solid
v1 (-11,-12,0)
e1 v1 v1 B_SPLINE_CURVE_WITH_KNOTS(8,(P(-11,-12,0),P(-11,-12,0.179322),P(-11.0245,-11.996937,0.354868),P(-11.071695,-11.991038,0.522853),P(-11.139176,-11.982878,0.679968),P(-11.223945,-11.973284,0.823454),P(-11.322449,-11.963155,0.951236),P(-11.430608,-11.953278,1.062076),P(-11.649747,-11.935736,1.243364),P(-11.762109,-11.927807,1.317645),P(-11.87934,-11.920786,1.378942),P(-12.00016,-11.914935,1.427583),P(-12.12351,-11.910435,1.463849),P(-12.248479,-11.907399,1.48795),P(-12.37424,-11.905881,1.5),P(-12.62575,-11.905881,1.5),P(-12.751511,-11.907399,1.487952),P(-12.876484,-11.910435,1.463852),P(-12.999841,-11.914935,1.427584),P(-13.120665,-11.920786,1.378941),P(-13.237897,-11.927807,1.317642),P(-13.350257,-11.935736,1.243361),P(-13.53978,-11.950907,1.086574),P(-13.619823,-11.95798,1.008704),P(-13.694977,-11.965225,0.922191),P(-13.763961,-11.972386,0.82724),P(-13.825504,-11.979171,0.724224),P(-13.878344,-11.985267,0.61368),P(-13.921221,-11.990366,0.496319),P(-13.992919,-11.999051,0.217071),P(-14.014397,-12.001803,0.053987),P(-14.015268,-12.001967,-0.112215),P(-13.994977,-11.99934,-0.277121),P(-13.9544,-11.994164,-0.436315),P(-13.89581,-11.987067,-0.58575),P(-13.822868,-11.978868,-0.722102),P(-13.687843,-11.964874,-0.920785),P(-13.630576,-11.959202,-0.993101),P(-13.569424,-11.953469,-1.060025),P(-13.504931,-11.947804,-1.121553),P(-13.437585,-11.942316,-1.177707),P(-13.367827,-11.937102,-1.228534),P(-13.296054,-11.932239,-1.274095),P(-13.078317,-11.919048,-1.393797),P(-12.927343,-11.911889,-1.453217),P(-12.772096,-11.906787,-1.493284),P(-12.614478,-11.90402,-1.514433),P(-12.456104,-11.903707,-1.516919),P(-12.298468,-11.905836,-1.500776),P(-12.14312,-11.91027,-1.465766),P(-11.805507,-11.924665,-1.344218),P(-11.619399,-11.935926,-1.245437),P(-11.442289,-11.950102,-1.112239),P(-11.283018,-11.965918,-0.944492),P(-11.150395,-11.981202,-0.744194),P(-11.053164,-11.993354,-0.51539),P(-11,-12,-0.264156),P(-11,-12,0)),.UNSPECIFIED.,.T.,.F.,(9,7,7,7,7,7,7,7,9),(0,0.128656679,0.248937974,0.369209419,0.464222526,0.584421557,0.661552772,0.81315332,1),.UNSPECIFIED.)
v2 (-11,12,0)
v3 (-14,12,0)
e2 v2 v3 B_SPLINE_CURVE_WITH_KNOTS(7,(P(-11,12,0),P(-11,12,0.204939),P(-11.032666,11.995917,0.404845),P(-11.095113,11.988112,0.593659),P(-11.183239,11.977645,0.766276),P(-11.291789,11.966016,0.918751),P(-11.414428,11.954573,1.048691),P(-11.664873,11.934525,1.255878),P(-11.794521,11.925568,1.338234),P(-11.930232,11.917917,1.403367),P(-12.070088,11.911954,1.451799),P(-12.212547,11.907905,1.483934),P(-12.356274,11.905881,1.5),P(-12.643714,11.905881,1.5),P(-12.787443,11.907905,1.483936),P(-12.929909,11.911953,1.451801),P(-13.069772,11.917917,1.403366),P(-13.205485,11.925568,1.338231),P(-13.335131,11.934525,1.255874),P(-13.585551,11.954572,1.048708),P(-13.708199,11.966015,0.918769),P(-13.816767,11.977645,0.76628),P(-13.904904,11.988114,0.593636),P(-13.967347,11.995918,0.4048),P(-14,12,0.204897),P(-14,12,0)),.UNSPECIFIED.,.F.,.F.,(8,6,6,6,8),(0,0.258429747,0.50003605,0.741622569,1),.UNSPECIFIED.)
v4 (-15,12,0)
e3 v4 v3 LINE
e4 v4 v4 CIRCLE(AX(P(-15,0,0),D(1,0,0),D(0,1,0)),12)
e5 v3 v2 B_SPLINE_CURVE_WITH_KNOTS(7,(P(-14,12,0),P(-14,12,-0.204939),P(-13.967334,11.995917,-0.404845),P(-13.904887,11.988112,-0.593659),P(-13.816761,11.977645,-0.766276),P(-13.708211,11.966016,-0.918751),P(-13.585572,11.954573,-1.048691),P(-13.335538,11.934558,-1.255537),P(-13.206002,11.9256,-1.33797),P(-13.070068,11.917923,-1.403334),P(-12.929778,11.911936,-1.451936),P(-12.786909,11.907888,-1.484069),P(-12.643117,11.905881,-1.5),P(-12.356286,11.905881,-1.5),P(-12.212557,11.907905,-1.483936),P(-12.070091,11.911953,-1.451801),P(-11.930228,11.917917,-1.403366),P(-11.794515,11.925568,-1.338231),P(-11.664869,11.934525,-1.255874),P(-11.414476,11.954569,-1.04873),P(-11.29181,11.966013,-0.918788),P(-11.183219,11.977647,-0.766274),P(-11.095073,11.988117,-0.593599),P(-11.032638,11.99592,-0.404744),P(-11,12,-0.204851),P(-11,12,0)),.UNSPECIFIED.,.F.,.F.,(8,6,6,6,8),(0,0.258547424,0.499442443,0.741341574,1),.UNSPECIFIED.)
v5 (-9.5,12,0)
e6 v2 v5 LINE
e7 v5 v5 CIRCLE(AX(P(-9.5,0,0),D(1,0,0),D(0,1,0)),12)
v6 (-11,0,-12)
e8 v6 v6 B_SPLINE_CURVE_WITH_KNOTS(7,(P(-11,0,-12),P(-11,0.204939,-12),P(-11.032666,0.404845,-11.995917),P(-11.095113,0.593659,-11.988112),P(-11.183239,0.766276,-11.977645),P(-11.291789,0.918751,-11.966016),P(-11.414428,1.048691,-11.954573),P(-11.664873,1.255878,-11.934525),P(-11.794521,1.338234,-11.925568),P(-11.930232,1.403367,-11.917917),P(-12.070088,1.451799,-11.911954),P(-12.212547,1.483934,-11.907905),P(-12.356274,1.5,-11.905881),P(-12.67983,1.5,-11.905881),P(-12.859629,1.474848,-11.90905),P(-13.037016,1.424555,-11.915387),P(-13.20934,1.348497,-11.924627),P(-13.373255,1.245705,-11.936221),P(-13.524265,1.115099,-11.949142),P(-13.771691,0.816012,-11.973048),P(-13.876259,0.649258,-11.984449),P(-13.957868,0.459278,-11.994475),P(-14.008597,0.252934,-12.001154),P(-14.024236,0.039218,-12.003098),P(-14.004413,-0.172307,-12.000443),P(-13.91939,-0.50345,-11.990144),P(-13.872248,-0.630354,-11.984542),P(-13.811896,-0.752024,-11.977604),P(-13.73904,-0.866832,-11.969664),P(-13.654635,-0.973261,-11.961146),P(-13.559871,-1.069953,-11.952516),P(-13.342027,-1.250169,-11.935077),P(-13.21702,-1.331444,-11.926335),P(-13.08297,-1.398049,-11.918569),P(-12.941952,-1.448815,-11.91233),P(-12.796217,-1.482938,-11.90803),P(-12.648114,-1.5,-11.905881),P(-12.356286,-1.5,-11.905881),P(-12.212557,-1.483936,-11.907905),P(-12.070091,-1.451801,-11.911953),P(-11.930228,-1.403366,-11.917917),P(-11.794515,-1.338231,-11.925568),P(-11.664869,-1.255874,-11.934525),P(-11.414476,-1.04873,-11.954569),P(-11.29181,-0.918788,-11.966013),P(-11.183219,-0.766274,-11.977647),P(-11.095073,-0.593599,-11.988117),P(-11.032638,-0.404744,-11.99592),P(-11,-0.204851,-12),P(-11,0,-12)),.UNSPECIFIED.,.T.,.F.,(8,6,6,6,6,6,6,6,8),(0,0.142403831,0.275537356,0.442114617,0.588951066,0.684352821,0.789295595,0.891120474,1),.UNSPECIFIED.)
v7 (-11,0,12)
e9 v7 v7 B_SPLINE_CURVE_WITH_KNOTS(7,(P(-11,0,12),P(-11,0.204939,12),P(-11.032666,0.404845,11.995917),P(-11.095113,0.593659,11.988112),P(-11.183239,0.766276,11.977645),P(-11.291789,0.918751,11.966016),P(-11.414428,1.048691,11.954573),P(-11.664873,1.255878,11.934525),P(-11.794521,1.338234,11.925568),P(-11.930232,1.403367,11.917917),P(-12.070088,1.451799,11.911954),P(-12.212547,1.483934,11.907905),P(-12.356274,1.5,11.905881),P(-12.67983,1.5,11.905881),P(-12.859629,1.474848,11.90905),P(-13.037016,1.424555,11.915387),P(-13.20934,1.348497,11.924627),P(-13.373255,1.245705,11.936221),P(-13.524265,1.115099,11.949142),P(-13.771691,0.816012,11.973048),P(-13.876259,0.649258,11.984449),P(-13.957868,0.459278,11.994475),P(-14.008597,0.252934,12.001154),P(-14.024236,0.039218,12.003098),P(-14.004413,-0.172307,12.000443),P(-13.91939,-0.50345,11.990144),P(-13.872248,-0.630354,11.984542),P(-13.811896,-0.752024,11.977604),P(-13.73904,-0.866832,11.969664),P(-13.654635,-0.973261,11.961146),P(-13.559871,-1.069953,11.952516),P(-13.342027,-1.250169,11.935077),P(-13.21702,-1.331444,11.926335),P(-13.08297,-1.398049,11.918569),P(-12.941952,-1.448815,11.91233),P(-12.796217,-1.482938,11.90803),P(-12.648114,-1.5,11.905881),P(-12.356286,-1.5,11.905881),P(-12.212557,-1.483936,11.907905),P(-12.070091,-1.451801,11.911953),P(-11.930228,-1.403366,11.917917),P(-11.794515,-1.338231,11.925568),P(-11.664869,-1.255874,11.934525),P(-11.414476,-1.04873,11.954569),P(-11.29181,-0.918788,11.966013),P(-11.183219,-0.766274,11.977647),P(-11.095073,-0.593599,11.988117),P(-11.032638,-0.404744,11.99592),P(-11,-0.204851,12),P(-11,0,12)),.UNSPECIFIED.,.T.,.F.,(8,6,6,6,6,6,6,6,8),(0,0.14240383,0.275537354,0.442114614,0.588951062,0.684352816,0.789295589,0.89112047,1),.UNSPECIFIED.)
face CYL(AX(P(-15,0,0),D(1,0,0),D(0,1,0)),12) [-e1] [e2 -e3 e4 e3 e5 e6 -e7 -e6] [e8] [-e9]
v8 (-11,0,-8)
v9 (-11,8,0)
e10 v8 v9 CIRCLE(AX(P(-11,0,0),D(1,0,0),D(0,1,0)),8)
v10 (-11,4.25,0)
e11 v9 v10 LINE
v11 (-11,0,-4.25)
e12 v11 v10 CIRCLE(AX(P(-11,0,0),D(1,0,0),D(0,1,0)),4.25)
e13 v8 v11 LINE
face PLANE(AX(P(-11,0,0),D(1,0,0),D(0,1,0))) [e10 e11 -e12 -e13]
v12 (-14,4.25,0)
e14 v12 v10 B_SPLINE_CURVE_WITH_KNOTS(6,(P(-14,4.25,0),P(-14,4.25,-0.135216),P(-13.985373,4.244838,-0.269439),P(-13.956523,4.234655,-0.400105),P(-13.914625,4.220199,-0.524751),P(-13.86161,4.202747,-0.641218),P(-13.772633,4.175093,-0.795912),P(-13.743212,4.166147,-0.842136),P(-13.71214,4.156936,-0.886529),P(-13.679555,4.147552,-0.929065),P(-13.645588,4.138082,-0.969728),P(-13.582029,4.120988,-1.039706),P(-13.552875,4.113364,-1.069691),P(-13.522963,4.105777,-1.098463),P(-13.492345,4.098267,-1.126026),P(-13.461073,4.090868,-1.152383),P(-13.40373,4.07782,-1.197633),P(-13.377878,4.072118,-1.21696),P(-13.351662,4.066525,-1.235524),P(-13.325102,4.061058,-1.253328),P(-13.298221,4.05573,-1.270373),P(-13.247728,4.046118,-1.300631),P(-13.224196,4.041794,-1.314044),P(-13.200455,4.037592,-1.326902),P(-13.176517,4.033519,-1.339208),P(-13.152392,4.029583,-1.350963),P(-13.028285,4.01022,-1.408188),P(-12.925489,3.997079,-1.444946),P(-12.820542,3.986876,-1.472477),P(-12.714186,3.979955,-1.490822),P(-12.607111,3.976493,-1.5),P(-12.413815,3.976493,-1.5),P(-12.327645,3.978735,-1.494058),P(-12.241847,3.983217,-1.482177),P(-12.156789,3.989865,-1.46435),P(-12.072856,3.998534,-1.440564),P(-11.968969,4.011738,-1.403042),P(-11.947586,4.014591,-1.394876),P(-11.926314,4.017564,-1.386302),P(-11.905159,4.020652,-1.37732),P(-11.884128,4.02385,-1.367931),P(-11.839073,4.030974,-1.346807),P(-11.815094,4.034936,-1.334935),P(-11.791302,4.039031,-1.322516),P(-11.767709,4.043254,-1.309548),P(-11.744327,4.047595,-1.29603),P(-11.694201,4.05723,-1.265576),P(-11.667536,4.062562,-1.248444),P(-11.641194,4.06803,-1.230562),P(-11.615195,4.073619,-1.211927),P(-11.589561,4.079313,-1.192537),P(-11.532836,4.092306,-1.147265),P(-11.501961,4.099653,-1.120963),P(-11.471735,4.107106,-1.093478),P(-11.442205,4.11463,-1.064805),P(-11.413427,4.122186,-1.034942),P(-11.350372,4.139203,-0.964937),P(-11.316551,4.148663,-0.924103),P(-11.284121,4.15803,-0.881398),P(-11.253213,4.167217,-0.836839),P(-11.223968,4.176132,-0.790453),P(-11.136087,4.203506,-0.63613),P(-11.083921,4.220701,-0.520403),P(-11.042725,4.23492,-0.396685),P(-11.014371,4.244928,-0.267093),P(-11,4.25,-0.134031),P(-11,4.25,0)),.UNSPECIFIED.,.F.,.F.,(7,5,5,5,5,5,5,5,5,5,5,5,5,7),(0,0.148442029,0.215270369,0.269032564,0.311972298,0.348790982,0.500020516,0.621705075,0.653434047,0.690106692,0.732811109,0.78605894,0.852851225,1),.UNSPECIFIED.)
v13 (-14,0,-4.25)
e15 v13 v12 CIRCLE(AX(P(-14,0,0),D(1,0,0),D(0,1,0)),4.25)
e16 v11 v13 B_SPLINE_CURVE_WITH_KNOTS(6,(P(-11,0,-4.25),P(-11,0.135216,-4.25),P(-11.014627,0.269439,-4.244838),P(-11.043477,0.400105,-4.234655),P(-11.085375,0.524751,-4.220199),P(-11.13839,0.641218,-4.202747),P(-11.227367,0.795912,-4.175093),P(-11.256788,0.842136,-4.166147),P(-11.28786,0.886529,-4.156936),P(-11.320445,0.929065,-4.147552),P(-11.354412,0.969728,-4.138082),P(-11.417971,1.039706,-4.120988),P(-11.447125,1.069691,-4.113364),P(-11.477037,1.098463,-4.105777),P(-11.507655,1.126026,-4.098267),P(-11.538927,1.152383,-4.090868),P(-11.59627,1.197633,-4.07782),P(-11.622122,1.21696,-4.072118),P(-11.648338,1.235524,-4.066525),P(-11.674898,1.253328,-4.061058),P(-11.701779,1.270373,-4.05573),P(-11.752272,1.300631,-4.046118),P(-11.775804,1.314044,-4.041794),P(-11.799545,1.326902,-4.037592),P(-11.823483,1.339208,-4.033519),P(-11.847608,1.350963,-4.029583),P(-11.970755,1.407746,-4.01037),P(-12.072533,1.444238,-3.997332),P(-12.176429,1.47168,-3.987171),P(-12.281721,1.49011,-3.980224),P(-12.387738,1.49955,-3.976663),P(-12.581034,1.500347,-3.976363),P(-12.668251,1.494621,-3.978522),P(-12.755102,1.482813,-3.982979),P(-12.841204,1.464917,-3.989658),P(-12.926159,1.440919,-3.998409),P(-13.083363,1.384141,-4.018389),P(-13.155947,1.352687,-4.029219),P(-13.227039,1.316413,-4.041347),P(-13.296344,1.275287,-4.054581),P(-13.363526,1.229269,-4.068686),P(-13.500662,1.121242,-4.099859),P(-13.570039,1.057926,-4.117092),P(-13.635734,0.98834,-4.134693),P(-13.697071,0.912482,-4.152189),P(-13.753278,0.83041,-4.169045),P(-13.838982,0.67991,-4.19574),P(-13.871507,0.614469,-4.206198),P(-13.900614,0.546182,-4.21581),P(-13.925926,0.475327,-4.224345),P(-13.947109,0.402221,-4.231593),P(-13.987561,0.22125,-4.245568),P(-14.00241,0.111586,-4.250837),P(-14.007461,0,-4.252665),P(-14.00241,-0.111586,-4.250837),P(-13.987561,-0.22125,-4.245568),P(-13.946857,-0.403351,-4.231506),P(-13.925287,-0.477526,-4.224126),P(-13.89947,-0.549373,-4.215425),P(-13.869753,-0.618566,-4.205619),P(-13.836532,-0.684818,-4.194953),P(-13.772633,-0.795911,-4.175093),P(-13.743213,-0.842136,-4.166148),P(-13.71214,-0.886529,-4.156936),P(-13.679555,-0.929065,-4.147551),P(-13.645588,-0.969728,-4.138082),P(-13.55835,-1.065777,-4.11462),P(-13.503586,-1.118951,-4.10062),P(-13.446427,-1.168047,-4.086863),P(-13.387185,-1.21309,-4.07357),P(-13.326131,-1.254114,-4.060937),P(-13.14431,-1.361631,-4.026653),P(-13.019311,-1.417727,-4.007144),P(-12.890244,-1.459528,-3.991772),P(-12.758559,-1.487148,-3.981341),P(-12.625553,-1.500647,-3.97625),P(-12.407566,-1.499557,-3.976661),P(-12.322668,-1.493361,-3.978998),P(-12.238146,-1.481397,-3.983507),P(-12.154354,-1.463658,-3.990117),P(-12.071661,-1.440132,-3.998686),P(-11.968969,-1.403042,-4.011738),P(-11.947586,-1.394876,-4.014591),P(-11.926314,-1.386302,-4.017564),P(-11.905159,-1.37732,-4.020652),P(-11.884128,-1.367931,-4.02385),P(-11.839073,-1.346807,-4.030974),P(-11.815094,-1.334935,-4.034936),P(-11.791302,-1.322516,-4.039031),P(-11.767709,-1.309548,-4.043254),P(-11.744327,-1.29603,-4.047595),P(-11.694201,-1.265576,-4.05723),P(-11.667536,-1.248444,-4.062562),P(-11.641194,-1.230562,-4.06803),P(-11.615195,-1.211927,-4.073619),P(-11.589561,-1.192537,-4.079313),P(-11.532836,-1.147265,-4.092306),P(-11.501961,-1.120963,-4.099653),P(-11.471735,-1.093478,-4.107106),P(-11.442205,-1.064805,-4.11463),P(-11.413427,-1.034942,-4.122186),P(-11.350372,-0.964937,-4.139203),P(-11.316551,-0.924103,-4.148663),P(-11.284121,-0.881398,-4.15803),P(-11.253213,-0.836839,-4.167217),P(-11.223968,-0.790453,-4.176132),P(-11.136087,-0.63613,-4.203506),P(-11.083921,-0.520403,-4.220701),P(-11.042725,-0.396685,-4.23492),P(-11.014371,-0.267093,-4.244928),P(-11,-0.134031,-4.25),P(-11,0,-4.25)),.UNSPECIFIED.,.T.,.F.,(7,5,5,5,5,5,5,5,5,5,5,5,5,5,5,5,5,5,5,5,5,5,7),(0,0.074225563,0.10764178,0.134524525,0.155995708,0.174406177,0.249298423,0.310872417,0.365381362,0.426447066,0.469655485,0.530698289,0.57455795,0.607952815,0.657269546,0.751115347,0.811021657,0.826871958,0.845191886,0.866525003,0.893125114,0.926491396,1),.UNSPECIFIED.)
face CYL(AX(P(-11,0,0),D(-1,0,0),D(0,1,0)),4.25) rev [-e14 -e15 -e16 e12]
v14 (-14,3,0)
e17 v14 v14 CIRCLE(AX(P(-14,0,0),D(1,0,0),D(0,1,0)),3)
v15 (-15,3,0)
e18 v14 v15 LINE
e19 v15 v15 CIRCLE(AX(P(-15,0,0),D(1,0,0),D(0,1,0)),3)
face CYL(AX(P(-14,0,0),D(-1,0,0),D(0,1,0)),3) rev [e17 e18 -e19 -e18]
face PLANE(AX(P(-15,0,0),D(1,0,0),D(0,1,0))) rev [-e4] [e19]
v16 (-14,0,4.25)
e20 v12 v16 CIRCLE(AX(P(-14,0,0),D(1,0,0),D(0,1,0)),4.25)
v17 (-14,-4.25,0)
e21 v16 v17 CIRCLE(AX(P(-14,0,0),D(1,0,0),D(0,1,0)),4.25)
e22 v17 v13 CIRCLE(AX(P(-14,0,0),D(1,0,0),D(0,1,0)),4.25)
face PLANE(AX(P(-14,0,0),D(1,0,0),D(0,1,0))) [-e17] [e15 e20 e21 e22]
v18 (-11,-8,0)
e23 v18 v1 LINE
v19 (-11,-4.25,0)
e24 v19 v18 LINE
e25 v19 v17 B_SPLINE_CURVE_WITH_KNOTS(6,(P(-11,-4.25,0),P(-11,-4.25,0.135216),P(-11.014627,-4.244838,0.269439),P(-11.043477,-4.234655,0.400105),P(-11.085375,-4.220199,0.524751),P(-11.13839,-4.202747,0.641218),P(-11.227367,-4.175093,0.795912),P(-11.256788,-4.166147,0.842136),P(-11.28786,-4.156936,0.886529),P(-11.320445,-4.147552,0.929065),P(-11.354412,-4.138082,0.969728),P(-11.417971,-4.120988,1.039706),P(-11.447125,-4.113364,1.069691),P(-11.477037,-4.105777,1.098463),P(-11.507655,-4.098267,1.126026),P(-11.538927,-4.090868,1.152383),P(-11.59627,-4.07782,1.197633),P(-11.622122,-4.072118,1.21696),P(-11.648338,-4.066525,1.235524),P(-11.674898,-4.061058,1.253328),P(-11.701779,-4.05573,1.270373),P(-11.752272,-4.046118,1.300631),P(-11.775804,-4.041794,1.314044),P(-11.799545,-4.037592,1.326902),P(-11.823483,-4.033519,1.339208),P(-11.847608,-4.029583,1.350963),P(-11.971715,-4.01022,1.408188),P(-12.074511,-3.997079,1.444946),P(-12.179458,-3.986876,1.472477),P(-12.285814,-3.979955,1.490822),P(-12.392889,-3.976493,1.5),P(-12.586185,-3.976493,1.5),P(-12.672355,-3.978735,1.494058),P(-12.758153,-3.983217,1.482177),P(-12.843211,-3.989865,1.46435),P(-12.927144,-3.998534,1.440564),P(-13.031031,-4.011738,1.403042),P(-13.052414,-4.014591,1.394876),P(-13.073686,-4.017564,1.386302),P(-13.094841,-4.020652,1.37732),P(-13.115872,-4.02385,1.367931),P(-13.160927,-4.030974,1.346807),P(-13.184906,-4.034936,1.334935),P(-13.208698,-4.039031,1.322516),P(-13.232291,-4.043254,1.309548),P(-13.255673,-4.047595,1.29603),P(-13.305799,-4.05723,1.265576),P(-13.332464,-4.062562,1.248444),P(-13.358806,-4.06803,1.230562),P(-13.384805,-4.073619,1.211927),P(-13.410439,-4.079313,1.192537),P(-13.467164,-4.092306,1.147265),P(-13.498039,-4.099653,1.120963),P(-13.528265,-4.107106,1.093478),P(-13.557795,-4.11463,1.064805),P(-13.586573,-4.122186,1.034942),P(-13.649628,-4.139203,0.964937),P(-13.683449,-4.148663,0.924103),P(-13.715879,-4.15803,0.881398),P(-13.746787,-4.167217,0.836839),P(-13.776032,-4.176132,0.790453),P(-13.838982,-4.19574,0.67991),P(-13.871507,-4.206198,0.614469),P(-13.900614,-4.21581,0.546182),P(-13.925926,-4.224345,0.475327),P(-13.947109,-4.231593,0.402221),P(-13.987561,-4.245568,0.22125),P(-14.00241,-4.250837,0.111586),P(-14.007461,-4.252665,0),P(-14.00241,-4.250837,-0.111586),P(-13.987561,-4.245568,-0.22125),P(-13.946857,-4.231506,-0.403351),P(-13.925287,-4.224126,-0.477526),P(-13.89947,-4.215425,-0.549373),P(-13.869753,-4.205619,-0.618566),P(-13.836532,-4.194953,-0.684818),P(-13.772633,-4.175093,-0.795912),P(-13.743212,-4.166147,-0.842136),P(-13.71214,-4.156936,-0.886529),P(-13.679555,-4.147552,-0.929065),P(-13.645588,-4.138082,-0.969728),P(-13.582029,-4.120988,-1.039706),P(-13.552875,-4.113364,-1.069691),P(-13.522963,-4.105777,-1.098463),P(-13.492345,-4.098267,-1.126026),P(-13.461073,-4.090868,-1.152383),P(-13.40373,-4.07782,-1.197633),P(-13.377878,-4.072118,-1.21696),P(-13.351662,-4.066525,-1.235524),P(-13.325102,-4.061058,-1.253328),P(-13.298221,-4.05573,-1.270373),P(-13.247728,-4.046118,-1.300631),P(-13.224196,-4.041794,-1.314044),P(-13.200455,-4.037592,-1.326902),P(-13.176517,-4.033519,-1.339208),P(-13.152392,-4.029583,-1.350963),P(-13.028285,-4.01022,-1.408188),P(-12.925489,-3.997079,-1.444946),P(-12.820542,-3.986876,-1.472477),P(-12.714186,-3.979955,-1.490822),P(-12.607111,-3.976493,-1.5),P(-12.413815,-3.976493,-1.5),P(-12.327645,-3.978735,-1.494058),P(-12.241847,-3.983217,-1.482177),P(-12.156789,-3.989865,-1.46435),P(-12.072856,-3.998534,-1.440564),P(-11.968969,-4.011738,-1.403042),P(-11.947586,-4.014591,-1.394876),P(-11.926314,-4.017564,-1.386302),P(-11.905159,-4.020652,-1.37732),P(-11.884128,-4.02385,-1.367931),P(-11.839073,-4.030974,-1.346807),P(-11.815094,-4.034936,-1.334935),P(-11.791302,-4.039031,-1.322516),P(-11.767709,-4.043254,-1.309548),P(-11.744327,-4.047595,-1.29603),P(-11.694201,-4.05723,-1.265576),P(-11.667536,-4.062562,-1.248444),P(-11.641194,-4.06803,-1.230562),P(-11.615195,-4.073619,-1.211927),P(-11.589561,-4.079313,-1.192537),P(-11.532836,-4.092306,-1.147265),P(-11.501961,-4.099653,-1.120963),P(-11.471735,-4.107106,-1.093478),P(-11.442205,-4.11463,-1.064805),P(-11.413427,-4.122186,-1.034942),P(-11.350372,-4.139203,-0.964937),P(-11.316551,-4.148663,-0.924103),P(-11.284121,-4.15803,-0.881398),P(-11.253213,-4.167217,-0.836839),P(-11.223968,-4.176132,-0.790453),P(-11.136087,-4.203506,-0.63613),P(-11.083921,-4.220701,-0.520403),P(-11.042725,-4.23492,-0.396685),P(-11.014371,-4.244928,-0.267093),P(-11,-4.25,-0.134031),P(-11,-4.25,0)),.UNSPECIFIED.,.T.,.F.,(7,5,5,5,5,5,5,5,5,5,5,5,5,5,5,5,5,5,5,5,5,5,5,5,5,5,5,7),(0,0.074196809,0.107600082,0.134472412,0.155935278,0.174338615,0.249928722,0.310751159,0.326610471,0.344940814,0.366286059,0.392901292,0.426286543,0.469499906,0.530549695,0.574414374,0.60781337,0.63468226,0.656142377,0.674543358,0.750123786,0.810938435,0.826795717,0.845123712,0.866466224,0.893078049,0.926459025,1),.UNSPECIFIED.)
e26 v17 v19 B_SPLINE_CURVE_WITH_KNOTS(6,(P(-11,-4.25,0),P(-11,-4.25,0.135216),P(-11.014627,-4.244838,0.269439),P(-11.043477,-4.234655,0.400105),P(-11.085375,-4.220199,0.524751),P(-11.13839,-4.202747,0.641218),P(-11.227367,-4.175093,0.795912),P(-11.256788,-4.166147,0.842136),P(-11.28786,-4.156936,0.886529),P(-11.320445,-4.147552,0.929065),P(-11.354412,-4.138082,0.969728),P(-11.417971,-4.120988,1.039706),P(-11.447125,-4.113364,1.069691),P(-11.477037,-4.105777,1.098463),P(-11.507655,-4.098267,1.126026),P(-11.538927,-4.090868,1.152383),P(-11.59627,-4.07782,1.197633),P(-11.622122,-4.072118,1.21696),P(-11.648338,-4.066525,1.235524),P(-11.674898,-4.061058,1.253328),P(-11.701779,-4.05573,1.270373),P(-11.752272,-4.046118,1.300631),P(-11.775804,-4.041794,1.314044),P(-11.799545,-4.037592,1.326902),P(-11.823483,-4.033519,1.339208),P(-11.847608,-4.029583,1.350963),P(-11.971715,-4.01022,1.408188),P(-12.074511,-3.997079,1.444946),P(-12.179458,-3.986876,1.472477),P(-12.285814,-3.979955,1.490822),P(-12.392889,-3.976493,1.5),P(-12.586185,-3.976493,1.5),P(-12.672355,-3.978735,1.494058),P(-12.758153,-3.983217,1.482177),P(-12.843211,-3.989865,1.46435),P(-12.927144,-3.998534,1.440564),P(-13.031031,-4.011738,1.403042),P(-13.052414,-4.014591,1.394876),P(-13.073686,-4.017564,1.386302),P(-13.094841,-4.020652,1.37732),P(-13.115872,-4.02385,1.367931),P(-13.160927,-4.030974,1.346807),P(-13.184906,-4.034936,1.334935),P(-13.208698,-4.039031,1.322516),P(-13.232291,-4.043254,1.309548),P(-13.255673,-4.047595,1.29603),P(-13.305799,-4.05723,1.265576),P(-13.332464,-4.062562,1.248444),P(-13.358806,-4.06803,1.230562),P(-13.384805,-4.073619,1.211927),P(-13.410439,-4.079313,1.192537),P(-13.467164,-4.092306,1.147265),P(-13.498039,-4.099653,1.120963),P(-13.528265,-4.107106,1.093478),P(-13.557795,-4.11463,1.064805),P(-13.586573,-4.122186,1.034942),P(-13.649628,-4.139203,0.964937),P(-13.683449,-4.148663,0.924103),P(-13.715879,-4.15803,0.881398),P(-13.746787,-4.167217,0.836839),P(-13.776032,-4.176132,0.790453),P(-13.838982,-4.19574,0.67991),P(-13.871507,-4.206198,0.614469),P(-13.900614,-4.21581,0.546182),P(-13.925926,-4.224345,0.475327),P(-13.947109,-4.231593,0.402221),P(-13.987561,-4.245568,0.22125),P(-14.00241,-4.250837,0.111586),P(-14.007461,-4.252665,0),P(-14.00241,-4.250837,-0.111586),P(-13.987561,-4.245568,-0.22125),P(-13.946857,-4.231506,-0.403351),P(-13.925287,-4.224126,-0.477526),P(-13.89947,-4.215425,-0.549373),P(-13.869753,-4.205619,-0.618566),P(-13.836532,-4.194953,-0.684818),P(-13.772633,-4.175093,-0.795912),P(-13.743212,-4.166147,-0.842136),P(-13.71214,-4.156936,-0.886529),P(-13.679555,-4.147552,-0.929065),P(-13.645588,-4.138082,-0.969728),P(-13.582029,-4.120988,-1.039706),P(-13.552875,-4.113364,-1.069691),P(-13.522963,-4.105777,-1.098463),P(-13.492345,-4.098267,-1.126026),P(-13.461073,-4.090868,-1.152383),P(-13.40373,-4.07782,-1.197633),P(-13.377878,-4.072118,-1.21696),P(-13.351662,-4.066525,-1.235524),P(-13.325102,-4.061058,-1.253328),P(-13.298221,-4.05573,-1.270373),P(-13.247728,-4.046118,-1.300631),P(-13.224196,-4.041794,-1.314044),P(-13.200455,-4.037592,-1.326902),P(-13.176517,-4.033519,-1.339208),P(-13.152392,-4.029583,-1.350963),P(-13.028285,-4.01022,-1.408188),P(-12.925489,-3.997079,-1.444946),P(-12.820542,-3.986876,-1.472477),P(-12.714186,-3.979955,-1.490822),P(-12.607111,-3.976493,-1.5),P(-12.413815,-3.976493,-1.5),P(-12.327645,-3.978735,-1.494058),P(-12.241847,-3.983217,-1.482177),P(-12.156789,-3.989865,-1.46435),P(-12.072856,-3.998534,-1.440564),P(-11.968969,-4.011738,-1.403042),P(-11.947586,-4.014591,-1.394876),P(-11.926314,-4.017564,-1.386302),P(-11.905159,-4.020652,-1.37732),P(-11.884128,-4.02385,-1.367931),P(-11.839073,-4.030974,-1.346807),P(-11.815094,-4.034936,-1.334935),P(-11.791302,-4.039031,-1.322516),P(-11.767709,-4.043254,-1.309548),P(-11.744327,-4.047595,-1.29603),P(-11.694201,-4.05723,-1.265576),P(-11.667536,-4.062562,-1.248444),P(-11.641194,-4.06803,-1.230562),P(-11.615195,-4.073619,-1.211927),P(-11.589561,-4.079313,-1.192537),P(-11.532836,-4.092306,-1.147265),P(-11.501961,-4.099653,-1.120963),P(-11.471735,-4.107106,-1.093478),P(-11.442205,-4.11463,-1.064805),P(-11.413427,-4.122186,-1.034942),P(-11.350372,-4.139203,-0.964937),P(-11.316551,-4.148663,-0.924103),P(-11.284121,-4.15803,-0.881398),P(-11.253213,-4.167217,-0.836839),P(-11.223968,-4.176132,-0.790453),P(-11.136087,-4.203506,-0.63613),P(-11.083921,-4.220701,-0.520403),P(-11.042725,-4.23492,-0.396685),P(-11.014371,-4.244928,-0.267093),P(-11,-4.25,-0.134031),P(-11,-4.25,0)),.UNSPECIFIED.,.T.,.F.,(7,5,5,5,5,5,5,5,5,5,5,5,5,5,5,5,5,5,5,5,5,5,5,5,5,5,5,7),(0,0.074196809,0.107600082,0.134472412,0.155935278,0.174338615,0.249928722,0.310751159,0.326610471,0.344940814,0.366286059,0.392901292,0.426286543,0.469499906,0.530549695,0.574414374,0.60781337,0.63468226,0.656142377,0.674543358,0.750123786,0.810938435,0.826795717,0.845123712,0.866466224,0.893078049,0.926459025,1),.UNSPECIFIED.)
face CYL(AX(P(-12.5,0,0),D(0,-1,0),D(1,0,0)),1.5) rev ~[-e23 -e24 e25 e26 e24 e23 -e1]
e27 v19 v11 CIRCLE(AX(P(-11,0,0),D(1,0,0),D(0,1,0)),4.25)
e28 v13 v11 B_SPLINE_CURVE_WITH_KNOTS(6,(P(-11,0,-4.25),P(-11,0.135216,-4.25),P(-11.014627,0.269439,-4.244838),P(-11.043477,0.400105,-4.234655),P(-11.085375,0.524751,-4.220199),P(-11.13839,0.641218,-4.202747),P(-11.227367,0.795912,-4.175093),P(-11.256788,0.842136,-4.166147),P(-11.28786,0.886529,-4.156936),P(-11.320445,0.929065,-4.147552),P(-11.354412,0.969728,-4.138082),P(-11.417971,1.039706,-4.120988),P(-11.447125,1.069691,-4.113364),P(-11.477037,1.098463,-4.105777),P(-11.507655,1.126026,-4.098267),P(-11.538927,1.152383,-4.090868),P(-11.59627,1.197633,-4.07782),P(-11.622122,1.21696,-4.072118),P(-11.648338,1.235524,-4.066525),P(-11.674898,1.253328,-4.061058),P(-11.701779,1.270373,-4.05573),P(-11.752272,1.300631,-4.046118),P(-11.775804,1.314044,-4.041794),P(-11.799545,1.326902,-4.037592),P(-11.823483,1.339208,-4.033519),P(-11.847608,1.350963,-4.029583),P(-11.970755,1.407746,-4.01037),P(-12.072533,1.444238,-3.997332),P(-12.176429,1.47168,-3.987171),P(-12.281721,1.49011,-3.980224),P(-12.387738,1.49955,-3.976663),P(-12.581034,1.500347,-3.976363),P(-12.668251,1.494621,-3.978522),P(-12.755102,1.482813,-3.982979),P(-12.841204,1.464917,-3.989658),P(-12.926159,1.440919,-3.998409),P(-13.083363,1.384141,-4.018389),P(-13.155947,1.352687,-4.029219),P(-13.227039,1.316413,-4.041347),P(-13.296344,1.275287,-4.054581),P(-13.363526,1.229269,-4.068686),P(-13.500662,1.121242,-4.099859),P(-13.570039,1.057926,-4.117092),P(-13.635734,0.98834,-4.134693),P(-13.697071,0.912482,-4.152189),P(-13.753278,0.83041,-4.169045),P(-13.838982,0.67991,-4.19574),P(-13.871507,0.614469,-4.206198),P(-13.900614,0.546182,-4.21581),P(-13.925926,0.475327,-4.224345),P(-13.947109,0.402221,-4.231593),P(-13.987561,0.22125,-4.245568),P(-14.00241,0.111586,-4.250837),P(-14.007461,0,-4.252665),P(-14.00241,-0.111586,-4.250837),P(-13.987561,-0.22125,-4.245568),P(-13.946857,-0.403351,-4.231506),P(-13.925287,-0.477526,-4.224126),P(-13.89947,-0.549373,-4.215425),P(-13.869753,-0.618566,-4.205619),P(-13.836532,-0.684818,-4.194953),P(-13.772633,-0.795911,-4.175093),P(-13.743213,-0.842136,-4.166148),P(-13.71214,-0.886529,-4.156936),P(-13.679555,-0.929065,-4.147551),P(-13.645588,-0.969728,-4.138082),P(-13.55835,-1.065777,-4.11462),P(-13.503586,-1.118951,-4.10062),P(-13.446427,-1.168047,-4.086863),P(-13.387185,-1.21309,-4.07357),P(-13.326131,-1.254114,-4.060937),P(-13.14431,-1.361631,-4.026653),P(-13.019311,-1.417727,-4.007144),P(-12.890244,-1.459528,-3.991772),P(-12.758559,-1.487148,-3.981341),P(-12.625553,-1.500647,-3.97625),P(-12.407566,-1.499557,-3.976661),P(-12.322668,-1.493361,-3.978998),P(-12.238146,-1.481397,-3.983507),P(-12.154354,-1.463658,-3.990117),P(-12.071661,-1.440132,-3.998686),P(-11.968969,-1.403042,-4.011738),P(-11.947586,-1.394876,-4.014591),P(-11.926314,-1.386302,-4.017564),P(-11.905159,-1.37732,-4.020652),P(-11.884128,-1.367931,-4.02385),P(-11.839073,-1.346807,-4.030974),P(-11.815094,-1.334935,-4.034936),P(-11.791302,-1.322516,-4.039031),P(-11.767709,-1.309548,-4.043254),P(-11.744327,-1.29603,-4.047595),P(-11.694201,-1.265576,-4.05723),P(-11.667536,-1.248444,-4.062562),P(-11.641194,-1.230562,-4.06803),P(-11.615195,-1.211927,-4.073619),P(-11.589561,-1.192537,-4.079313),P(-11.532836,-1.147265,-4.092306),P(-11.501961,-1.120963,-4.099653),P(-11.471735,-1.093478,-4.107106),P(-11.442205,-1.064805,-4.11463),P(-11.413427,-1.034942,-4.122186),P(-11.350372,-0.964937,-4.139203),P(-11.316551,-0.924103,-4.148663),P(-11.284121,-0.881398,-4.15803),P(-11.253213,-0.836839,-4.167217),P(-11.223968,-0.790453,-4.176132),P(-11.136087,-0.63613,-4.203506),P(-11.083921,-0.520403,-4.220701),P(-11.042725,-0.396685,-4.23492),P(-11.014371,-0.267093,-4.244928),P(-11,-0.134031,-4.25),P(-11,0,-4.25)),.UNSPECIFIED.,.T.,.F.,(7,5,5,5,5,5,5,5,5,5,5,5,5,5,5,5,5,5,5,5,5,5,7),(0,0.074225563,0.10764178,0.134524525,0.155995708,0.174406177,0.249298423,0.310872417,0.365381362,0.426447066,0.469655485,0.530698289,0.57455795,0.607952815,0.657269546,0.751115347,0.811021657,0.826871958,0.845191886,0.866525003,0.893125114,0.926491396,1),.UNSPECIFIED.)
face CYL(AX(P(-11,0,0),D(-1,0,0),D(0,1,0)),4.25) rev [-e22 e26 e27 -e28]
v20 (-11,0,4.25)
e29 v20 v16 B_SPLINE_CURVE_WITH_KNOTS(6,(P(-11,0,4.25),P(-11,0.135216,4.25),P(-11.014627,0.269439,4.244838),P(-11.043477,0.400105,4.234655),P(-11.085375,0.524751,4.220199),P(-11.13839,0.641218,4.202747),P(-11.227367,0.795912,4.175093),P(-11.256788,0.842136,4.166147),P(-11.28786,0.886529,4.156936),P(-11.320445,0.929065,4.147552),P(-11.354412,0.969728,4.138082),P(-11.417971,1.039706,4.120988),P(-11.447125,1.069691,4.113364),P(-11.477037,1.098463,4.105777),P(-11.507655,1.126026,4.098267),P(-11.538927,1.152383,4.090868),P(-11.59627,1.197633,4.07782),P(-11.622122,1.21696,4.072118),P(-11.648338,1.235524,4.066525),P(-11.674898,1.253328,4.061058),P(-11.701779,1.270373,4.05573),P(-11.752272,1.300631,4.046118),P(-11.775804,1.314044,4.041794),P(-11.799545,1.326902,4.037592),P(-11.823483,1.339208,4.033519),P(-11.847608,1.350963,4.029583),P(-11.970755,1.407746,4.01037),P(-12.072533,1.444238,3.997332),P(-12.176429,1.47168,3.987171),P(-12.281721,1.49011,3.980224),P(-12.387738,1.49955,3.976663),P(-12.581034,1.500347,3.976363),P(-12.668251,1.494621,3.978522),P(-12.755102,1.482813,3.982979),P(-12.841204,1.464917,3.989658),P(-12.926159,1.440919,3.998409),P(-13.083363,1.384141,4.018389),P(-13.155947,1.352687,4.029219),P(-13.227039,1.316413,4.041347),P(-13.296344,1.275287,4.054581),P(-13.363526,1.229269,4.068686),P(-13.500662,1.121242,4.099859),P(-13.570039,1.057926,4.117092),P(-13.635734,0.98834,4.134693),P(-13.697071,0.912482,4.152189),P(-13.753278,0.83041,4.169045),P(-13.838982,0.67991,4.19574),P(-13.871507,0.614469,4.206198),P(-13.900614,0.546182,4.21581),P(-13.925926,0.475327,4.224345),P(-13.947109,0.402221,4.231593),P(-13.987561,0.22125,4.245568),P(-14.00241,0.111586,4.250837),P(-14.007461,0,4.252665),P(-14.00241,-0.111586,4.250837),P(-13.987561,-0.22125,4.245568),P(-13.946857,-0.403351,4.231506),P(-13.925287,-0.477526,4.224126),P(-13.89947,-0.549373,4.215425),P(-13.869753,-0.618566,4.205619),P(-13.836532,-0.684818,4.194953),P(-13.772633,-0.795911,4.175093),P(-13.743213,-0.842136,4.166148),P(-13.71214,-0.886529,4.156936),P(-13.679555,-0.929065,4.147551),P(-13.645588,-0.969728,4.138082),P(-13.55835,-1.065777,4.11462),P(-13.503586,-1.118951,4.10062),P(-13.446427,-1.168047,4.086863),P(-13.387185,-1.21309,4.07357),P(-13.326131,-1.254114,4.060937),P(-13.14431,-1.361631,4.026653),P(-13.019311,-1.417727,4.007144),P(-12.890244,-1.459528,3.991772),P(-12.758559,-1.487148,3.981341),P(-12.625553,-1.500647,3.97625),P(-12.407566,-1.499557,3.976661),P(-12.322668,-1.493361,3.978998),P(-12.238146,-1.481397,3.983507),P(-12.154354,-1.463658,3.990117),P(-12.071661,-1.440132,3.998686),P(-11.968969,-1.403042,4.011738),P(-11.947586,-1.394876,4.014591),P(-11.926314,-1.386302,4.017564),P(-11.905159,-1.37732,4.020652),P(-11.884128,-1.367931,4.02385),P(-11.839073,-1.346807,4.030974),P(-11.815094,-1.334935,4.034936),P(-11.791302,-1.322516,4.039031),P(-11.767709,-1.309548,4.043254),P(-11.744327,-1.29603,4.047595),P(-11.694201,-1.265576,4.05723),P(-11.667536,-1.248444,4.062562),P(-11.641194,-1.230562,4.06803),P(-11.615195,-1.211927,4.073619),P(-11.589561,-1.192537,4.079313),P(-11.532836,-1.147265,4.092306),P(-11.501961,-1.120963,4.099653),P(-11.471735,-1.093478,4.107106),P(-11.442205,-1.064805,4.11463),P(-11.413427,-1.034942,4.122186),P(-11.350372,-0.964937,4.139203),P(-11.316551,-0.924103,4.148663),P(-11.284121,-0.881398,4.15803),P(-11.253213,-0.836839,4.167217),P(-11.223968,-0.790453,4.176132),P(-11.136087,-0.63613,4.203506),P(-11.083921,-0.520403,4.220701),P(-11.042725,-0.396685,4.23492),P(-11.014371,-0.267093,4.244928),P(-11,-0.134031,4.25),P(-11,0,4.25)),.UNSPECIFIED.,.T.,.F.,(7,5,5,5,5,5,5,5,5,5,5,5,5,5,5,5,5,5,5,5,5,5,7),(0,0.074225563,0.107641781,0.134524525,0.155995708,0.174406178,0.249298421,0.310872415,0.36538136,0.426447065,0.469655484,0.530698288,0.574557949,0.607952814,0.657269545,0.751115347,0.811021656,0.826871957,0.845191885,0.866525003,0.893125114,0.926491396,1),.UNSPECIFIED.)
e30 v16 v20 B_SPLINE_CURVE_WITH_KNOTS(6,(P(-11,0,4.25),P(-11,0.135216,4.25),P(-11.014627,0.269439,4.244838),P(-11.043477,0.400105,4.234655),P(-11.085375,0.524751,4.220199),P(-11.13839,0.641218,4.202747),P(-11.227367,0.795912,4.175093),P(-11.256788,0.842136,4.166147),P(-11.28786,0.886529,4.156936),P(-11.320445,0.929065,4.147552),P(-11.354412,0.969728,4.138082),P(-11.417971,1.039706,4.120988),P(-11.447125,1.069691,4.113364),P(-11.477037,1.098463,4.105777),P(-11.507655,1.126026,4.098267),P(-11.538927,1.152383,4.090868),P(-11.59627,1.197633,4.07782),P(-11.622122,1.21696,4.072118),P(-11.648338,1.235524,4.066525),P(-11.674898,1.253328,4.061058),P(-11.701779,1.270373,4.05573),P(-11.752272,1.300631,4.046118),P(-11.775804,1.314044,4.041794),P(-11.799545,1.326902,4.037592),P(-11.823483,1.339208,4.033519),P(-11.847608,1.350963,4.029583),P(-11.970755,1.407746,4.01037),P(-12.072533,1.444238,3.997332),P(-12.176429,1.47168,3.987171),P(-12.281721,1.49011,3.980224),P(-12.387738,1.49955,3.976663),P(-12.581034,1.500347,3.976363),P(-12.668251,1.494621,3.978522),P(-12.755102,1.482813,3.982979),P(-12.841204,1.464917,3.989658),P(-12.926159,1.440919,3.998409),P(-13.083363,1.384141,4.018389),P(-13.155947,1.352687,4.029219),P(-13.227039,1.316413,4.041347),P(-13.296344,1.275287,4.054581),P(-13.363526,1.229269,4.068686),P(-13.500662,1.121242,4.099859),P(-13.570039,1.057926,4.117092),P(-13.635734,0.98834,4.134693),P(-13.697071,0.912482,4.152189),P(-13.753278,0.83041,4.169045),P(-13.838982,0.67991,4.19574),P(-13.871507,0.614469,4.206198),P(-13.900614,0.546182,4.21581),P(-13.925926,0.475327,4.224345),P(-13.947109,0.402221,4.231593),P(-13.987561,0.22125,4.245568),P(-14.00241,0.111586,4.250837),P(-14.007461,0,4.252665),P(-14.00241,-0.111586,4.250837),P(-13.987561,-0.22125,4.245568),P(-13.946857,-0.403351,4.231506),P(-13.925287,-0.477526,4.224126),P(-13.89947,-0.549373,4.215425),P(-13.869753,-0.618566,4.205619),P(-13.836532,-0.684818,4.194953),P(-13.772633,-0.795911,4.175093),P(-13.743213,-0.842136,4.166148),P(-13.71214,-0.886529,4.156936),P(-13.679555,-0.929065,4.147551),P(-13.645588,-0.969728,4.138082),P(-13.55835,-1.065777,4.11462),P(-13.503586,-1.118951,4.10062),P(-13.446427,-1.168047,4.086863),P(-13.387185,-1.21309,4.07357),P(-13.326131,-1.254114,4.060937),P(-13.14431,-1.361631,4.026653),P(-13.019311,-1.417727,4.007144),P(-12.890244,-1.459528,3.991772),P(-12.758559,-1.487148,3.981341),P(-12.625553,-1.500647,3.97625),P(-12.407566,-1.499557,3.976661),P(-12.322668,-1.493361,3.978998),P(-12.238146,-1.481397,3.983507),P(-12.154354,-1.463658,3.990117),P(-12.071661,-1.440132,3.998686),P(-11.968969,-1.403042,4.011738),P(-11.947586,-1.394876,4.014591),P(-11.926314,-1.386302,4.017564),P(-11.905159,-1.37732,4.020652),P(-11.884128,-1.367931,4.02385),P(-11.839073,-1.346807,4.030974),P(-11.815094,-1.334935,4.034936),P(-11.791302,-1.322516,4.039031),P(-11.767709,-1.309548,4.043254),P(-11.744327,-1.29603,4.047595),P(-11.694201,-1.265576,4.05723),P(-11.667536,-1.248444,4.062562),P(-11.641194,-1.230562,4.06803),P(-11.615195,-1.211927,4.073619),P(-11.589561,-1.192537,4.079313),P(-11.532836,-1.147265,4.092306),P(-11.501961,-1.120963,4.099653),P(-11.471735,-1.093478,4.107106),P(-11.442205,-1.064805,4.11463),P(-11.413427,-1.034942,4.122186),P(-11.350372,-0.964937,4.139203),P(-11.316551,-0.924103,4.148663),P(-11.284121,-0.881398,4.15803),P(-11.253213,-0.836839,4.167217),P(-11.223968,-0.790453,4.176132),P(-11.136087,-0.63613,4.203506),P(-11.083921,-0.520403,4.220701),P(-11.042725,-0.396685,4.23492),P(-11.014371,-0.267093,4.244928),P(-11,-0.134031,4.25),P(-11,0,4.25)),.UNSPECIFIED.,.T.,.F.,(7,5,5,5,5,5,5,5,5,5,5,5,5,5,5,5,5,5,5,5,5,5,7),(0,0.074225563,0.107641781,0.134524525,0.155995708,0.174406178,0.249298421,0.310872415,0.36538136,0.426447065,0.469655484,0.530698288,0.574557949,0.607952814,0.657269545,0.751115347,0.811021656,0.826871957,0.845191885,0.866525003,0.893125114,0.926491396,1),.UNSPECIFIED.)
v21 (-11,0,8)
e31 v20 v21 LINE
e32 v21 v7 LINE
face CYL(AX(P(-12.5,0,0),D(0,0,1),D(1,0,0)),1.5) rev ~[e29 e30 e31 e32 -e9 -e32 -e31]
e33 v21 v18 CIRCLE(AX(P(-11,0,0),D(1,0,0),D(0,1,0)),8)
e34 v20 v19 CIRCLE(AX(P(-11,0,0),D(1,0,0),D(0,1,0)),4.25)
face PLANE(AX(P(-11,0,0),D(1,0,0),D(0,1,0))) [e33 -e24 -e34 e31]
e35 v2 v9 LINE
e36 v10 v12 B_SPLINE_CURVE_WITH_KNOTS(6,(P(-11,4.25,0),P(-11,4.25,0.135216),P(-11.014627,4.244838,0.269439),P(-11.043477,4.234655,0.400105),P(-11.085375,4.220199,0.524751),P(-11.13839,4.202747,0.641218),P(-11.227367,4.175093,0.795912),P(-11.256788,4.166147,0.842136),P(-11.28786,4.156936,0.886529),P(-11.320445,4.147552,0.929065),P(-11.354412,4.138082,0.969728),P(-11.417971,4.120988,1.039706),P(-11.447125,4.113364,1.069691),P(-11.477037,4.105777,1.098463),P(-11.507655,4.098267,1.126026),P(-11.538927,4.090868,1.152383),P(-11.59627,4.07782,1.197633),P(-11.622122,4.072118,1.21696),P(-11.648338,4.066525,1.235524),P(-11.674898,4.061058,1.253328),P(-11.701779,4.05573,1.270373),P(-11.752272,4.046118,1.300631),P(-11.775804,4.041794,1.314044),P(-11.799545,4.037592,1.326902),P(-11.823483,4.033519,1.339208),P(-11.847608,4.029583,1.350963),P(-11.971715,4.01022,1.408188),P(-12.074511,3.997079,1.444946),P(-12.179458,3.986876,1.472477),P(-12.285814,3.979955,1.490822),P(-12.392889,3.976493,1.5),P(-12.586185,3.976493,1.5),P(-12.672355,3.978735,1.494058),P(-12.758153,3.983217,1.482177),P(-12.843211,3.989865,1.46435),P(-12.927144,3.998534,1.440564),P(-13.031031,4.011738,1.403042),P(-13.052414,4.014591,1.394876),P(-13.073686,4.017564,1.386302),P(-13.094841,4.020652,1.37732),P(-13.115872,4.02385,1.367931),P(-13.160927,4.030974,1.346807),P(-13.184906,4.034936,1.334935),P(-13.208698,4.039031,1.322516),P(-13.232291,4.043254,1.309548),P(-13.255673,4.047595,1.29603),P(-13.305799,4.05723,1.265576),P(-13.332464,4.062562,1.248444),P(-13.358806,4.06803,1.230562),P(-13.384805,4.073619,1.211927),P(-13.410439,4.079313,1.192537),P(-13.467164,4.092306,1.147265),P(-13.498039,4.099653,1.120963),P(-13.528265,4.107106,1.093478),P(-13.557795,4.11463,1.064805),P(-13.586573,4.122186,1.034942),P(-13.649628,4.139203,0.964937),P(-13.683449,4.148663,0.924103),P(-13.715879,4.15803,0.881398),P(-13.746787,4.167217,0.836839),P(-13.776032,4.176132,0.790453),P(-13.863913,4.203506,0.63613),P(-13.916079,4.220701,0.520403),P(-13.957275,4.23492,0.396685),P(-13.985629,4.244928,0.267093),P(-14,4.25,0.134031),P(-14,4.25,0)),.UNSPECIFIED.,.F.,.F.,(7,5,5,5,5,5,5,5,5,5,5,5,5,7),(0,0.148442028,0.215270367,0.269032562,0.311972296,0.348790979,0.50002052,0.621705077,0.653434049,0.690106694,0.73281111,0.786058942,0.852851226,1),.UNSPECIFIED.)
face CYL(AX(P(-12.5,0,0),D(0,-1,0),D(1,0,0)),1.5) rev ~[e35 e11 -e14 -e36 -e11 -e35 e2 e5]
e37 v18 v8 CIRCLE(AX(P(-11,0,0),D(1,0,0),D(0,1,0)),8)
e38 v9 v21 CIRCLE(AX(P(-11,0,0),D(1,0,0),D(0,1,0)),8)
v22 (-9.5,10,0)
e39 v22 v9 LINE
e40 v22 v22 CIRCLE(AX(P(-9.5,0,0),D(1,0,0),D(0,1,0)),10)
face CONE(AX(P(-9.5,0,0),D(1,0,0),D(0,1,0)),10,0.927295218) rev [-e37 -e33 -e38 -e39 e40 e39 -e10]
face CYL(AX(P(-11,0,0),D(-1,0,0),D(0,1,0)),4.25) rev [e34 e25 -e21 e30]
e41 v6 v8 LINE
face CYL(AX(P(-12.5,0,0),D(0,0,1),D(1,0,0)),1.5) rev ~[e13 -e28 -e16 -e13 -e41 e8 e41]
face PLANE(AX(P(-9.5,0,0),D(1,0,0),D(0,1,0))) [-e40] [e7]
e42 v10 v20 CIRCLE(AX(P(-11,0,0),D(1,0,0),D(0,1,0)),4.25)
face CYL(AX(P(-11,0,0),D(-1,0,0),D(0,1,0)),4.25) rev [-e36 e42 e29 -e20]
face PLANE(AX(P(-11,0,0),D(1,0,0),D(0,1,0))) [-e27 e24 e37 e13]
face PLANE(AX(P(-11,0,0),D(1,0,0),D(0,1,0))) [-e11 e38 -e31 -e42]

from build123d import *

# Parameters (mm, degrees)
SKETCH085_R  = 1.5
PAD064_DEPTH = 25
SKETCH082_R  = 1.5
PAD063_DEPTH = 25


with BuildPart() as pad064:
    # Sketch085 → Pad064 (new body, symmetric)
    with BuildSketch(Plane.XY):
        with Locations((-12.5, 0)):
            Circle(SKETCH085_R)
    extrude(amount=PAD064_DEPTH, both=True)


with BuildPart() as screwcutout:
    # Sketch082 → Pad063 (new body, symmetric)
    with BuildSketch(Plane.XZ):
        with Locations((-12.5, 0)):
            Circle(SKETCH082_R)
    extrude(amount=PAD063_DEPTH, both=True)

    # Fusion004024: union Pad064
    add(pad064.part)


with BuildPart() as endcap:
    # Sketch083 → Revolution (revolve)
    with BuildSketch(Plane.XY):
        Polygon((-15, 3), (-15, 12), (-9.5, 12), (-9.5, 10), (-11, 8), (-11, 4.25), (-14, 4.25), (-14, 3), align=None)
    revolve(axis=Axis((0, 0, 0), (1, 0, 0)))

    # Cut007019003: cut ScrewCutout
    add(screwcutout.part, mode=Mode.SUBTRACT)


solid = endcap.part
